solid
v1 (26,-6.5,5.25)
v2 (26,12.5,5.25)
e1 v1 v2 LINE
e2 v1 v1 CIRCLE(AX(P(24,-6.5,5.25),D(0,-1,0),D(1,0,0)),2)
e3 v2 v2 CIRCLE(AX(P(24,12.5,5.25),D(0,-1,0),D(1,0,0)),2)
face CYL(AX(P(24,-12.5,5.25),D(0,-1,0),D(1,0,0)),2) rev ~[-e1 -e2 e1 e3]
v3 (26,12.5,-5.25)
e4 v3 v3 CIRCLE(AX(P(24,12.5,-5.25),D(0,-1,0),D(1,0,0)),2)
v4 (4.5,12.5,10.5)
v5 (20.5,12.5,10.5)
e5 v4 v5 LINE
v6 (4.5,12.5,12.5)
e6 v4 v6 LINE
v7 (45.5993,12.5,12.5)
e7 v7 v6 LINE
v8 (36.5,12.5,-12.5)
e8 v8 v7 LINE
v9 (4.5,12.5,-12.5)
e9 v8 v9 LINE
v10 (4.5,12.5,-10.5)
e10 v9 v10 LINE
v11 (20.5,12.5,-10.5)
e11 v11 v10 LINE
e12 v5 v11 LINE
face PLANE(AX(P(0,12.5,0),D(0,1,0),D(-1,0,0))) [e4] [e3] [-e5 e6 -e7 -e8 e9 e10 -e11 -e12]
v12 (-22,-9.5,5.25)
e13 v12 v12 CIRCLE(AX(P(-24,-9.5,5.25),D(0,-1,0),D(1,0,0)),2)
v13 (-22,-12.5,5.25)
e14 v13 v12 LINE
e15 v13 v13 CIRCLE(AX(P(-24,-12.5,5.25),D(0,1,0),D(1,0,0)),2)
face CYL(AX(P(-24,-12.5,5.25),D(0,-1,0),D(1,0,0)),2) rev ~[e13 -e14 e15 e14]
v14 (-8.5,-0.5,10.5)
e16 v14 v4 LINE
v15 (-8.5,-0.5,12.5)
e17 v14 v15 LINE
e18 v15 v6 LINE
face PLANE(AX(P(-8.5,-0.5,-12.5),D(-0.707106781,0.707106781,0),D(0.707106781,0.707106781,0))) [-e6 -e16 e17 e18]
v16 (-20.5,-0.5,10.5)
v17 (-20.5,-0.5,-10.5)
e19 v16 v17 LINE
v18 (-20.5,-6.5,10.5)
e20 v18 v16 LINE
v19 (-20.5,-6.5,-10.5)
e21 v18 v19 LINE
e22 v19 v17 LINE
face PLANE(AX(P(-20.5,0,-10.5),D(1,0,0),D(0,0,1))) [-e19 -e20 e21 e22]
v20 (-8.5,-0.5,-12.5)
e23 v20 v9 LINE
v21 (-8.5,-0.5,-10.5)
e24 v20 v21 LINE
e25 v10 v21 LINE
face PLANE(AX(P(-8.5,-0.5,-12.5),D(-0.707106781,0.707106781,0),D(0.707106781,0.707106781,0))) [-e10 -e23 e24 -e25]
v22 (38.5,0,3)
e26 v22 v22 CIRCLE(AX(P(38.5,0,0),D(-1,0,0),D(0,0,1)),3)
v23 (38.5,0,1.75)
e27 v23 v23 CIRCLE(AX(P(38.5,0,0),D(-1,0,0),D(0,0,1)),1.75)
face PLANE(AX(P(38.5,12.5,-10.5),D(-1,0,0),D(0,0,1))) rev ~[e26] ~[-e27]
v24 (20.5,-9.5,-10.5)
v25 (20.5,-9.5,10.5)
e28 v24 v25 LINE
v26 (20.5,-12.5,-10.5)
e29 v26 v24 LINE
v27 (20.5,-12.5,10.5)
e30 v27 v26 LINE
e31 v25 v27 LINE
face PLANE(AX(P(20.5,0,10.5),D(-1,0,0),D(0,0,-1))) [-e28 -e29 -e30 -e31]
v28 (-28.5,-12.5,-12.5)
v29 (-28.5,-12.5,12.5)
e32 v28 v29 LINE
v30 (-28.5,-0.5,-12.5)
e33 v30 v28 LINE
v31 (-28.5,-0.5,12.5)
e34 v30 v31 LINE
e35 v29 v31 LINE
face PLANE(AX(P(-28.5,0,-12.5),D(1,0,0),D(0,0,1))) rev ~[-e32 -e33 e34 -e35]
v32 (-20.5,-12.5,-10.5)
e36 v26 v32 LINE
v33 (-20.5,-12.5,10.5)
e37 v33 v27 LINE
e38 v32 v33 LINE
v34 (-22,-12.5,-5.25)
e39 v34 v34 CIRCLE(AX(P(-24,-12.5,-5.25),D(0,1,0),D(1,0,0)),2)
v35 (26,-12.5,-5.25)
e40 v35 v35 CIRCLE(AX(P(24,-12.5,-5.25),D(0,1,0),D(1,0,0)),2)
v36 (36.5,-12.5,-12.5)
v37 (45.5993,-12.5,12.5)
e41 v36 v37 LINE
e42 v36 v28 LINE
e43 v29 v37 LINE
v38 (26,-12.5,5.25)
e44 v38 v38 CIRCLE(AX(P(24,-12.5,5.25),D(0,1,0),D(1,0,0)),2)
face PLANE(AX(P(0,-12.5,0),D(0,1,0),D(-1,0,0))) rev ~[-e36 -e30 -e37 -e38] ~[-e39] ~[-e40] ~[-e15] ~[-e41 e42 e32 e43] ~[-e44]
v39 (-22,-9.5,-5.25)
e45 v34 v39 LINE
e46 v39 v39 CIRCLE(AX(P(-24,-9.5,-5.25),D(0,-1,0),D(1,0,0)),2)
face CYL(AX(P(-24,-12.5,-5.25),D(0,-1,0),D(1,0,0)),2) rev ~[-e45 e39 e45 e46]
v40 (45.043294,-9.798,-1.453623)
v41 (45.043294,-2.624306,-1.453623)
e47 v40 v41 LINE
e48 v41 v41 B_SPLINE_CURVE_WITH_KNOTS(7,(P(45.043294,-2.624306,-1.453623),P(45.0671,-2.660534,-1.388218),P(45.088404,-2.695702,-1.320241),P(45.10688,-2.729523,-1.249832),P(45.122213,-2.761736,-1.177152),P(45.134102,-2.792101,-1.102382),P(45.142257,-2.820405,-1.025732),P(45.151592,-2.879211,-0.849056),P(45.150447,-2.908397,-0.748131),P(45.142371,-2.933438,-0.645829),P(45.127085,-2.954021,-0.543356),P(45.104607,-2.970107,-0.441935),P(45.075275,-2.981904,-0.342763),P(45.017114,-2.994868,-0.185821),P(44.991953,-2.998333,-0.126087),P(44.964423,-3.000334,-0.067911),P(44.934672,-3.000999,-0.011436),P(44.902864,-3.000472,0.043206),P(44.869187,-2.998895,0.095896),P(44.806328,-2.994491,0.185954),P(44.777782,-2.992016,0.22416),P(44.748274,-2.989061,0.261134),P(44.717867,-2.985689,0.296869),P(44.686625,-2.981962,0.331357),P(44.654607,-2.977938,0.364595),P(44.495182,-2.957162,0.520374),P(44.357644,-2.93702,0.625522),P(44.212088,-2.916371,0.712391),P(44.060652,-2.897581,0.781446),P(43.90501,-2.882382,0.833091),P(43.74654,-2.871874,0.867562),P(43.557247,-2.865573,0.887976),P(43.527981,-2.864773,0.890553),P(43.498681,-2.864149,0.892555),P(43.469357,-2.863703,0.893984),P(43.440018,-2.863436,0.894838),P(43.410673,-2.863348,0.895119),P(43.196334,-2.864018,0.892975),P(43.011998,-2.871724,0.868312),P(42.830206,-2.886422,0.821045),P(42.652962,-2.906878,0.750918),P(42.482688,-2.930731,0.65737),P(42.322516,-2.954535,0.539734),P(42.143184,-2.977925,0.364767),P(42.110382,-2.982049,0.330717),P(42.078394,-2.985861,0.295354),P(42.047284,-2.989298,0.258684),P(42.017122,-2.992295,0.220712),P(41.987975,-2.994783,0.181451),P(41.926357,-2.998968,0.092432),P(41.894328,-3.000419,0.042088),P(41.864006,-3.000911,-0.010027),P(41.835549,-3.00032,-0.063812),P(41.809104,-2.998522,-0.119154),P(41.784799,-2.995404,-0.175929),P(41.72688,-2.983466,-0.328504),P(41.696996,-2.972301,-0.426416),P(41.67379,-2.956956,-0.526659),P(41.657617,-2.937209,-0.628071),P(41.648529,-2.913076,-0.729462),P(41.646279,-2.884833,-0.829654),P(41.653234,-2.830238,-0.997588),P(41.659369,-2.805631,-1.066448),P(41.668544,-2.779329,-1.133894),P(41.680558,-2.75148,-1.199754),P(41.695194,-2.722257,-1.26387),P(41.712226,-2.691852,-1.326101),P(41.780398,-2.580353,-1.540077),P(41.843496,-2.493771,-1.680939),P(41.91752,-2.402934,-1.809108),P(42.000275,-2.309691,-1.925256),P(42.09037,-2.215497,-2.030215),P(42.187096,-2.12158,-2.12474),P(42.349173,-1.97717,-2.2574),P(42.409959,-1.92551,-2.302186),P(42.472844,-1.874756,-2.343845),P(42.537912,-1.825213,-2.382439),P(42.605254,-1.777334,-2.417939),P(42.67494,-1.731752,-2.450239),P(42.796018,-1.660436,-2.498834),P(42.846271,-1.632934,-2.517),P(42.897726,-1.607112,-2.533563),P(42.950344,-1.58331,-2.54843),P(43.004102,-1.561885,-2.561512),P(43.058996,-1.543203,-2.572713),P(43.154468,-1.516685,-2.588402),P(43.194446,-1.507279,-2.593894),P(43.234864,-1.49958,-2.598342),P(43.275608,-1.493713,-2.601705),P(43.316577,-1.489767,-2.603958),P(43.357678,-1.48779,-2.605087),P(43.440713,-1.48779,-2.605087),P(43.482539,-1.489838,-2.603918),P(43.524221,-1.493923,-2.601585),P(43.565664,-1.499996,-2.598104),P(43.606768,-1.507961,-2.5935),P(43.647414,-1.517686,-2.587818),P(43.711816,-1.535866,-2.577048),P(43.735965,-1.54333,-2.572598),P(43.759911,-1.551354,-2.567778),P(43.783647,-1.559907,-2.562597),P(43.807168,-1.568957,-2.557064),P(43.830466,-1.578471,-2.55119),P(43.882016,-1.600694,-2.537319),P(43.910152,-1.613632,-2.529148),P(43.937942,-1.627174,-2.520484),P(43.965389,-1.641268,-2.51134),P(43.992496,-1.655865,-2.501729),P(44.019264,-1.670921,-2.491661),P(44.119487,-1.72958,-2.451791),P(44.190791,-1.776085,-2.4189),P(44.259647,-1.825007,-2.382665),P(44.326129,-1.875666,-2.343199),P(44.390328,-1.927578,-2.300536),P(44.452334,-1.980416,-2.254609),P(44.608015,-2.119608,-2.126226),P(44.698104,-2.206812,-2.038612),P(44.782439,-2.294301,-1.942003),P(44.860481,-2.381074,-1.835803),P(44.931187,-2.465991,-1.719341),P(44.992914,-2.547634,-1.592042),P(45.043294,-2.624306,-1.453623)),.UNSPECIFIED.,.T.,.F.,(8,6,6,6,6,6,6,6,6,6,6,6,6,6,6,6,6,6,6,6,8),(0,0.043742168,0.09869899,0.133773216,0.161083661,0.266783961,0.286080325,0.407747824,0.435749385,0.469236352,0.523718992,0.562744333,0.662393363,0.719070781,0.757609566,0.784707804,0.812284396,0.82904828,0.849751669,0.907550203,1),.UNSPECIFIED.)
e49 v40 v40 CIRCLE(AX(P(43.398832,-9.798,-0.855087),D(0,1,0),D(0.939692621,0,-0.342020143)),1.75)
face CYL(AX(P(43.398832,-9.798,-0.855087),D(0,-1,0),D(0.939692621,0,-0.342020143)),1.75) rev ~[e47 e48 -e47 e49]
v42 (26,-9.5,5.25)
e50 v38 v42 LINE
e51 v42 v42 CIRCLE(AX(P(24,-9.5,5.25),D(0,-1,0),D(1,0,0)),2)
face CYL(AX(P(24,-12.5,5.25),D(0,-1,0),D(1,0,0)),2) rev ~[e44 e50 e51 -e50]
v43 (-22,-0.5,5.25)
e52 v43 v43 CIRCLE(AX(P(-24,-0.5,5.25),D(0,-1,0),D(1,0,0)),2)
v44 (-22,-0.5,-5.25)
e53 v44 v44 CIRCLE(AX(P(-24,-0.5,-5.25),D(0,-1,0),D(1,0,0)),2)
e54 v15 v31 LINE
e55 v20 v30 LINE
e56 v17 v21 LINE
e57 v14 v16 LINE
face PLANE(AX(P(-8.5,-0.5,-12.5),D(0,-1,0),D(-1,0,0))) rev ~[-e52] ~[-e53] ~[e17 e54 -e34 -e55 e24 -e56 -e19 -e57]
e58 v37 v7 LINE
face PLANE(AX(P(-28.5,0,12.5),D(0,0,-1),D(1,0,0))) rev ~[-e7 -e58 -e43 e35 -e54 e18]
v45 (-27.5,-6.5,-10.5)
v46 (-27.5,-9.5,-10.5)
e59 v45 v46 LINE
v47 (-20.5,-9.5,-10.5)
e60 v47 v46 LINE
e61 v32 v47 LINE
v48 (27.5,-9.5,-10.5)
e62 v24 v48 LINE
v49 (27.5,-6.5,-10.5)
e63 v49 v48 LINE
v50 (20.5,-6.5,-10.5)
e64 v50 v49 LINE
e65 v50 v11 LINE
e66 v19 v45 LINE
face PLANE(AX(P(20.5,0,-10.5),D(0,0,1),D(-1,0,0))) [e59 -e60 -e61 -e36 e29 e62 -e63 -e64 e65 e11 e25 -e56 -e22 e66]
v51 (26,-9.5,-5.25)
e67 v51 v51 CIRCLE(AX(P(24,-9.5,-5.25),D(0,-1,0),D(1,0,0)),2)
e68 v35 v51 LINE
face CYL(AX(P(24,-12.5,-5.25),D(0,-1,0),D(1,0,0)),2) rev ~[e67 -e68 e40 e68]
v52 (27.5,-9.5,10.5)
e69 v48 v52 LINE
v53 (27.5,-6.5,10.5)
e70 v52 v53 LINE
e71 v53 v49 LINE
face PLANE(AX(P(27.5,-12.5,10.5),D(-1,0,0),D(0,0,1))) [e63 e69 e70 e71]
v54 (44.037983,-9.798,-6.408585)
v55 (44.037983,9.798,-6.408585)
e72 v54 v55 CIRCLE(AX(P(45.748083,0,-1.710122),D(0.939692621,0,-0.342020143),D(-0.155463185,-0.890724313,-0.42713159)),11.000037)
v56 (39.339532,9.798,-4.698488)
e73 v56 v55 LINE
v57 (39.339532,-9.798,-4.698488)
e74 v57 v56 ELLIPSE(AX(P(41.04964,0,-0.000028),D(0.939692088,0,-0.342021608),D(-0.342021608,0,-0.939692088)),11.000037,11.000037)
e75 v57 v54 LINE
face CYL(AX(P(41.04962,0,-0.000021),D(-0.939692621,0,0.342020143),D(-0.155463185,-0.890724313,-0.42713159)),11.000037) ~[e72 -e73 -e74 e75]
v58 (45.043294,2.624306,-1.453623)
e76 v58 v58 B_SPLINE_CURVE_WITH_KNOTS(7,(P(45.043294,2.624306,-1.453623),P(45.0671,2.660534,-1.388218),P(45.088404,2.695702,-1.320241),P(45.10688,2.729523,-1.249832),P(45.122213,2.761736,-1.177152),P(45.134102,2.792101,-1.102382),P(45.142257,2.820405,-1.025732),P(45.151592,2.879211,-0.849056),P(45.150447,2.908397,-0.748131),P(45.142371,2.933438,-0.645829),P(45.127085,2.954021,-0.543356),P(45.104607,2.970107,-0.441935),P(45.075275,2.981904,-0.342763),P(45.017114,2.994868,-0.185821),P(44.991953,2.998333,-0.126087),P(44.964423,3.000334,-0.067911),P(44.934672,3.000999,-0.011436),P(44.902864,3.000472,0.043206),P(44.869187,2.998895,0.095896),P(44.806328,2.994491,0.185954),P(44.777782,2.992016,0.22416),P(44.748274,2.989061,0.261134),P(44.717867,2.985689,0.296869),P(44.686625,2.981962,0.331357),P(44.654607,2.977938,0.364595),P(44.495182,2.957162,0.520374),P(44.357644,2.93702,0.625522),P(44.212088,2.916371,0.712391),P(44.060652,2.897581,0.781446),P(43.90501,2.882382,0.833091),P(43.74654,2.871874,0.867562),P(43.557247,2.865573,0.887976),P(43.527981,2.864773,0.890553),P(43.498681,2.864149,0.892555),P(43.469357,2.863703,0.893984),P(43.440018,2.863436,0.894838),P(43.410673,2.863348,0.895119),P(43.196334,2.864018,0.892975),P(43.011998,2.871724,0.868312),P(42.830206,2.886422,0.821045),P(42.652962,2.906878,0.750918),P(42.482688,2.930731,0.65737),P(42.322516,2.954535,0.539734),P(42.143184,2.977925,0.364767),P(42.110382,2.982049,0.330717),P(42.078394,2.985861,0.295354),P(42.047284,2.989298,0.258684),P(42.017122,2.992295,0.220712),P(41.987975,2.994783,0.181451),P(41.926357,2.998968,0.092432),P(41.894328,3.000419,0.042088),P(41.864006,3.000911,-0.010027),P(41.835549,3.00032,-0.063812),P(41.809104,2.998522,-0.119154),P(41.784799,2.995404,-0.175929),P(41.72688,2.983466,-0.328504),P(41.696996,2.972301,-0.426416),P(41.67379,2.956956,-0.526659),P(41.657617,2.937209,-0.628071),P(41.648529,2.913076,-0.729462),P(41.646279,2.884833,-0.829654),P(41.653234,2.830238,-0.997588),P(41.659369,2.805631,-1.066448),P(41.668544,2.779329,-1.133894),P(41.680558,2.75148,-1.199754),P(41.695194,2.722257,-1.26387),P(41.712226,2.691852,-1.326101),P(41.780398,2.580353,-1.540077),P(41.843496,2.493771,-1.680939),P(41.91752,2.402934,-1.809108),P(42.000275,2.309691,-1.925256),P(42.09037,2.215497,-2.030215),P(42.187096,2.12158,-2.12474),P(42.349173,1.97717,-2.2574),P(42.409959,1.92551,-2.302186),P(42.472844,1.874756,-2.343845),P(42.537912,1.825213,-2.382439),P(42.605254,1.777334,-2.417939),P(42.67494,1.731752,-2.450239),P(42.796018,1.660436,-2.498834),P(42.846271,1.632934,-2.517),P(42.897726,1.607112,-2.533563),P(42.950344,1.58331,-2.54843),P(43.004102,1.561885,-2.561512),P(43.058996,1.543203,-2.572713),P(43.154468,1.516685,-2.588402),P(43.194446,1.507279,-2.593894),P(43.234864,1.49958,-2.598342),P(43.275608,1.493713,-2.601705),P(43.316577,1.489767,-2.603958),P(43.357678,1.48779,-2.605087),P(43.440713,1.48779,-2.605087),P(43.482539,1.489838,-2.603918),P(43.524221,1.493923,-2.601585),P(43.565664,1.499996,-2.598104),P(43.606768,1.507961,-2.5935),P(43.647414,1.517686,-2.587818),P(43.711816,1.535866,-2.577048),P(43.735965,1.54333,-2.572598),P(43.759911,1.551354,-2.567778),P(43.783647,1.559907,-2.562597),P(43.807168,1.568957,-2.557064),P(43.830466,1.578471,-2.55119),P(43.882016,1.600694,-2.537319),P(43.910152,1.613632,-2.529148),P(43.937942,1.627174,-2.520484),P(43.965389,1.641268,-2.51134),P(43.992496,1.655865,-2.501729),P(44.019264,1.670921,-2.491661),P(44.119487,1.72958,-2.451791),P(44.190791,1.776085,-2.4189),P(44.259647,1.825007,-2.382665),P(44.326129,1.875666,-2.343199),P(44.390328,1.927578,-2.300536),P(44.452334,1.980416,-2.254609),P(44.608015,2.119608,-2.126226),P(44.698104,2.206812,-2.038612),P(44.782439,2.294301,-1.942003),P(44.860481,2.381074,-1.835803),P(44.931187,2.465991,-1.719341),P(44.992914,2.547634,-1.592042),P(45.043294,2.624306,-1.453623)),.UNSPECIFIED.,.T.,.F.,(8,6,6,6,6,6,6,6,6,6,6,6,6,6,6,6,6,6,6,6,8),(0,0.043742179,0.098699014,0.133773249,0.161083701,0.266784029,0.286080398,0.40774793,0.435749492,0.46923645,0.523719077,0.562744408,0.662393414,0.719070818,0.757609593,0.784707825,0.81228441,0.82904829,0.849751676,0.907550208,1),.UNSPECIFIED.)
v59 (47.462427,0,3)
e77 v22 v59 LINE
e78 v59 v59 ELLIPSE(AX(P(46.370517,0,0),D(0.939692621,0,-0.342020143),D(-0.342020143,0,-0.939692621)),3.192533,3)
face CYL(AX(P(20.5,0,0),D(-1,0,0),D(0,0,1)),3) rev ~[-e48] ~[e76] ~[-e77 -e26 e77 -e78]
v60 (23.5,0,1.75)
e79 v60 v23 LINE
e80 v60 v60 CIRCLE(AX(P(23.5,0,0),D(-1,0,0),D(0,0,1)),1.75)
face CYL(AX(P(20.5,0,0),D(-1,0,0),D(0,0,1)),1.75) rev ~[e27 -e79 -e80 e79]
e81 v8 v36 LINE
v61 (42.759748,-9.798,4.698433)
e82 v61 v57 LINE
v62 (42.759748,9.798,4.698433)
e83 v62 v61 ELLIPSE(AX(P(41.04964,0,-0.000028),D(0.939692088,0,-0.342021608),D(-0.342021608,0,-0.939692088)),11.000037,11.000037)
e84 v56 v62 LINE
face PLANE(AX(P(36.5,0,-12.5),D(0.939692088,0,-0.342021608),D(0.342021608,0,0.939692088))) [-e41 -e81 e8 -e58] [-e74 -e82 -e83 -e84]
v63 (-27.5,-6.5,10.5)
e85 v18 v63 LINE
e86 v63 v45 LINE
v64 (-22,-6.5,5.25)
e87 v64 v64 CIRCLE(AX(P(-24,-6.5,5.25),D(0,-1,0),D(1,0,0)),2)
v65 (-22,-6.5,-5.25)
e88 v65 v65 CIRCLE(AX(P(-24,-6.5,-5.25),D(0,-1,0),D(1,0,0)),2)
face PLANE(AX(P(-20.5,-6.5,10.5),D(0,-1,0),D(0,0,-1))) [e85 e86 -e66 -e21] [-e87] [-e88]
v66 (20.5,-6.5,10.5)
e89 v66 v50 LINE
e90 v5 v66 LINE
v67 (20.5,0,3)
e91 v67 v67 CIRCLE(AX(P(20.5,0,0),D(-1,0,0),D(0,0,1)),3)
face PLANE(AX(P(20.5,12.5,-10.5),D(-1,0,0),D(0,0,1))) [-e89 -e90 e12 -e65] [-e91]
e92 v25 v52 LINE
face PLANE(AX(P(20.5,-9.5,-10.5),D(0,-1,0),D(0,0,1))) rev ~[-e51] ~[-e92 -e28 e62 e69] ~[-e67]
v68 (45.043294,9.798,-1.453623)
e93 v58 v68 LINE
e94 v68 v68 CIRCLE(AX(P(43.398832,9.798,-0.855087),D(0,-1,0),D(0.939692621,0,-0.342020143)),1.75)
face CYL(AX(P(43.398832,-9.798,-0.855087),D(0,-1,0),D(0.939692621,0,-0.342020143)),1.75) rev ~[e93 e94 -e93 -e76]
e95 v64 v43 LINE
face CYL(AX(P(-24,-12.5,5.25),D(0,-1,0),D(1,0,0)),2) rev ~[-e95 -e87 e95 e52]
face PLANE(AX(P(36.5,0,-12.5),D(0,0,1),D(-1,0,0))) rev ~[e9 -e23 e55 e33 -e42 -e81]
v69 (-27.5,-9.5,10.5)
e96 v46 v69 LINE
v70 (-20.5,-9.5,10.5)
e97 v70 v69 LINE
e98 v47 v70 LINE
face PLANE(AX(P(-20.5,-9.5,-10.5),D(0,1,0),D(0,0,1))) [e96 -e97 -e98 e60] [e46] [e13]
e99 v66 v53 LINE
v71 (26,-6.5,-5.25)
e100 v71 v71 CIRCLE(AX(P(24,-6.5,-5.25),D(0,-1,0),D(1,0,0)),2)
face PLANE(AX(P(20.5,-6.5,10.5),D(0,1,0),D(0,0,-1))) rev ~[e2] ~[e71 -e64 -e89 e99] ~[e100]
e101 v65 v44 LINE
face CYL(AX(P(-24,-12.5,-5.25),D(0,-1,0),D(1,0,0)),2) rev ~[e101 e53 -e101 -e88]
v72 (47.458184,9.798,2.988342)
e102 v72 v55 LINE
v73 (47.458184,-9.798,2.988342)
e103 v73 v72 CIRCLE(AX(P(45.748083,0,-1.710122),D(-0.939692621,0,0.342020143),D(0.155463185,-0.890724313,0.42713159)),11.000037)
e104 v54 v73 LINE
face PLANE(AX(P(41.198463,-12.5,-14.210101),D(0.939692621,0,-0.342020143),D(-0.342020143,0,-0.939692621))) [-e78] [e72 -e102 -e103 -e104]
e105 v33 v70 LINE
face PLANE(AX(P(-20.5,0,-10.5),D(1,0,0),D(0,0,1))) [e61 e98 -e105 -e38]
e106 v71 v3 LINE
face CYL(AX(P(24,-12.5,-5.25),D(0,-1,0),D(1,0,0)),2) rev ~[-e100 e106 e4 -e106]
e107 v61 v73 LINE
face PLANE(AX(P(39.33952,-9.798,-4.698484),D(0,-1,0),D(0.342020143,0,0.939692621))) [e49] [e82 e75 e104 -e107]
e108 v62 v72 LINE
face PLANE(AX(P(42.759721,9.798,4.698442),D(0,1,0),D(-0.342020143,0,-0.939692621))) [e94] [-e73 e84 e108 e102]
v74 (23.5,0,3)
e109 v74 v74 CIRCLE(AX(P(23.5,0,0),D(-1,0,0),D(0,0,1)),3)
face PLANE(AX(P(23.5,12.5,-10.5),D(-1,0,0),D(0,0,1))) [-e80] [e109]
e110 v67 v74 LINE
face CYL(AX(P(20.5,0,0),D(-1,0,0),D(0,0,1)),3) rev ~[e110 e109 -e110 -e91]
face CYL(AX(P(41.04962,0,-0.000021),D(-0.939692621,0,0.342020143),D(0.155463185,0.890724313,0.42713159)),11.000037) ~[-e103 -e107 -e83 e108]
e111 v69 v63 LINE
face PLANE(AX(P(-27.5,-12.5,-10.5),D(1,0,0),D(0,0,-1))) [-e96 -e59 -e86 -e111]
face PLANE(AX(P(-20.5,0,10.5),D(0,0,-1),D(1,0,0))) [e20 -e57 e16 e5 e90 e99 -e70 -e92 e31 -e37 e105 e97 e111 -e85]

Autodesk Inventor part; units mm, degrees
ref_plane "YZ Plane" through (0, 0, 0) normal (1, 0, 0) x (0, 1, 0)
ref_plane "XZ Plane" through (0, 0, 0) normal (0, 1, 0) x (-1, 0, 0)
ref_plane "XY Plane" through (0, 0, 0) normal (0, 0, 1) x (1, 0, 0)
sketch "Esquisse1" plane through (0, 0, 0) normal (0, 1, 0) x (-1, 0, 0)
  line L0 (20.5, 10.5) -> (-20.5, 10.5)
  line L1 (-20.5, 10.5) -> (-20.5, -10.5)
  line L2 (-20.5, -10.5) -> (20.5, -10.5)
  line L3 (20.5, -10.5) -> (20.5, 10.5)
  line L4 (28.5, 12.5) -> (-36.5, 12.5)
  line L5 (-36.5, 12.5) -> (-36.5, -12.5)
  line L6 (-36.5, -12.5) -> (28.5, -12.5)
  line L7 (28.5, -12.5) -> (28.5, 12.5)
  line L8 (-36.5, -12.5) -> (-45.5993, 12.5)
  line L9 (-45.5993, 12.5) -> (-36.5, 12.5)
  point P0 (0, 0)
  dimension "d0" = 20
  dimension "d1" = 41
  dimension "d2" = 21
  dimension "d3" = 10.5
  dimension "d4" = 20.5
  dimension "d5" = 8
  dimension "d6" = 2
  dimension "d7" = 2
  dimension "d8" = 16
extrude "Extrusion1" add sketch "Esquisse1" along normal mid plane 25
sketch "Esquisse2" plane through (36.5, -12.5, -12.5) normal (0.9397, 0, -0.342) x (-0.342, 0, -0.9397)
  line L0 (-26.6044, 25) -> (0, 0)
  line L1 (0, 0) -> (0, 25)
  line L2 (0, 25) -> (-26.6044, 0)
  arc A0 (-8.3022, 22.298) -> (-18.3022, 22.298) centre (-13.3022, 12.5) ccw
  line L3 (-18.3022, 22.298) -> (-8.3022, 22.298)
  line L4 (-8.3022, 22.298) -> (-8.3022, 2.702)
  line L5 (-8.3022, 2.702) -> (-18.3022, 2.702)
  line L6 (-18.3022, 2.702) -> (-18.3022, 22.298)
  arc A1 (-8.3022, 2.702) -> (-8.3022, 22.298) centre (-13.3022, 12.5) ccw
  arc A2 (-18.3022, 2.702) -> (-8.3022, 2.702) centre (-13.3022, 12.5) ccw
  arc A3 (-18.3022, 22.298) -> (-18.3022, 2.702) centre (-13.3022, 12.5) ccw
  point P0 (0.7376, 12.5)
  dimension "d11" = 22
  dimension "d13" = 10
extrude "Extrusion2" add sketch "Esquisse2" along normal blind 5 contours A3 L6 L0 | L0 L6 L2 A3 | L6 L3 L4 L2 L0 | L0 L2 L6 | L2 L6 A3 | L2 L4 L0 | L0 L4 L5 L6 L2 | A1 L2 L4 | L4 L2 A1 L0 | L0 A1 L4
sketch "Esquisse3" plane through (39.3395, -9.798, -4.6985) normal (0, -1, 0) x (0.9397, 0, -0.342)
  line L0 (5, 10) -> (0, 0)
  line L1 (0, 10) -> (5, 0)
  circle A0 centre (2.5, 5) radius 1.75
  point P0 (-38.574, -9.0398)
  dimension "d16" = 3.5
extrude "Extrusion3" cut sketch "Esquisse3" against normal through all
sketch "Esquisse4" plane through (20.5, -12.5, 10.5) normal (-1, 0, 0) x (0, 0, 1)
  line L0 (-21, 3) -> (0, 3)
  line L1 (0, 3) -> (0, 6)
  line L2 (0, 6) -> (-21, 6)
  line L3 (-21, 6) -> (-21, 3)
  line L4 (-21, 0) -> (-21, 25) projected
  line L5 (0, 0) -> (0, 25) projected
  line L6 (0, 0) -> (-21, 0) projected
  point P0 (-10.5, 12.5)
  dimension "d19" = 3
  dimension "d20" = 3
extrude "Extrusion4" cut sketch "Esquisse4" against normal blind 7 contours L3 L2 L1 L0
sketch "Esquisse5" plane through (-20.5, -12.5, -10.5) normal (1, 0, 0) x (0, 0, -1)
  line L0 (-21, 6) -> (0, 6)
  line L1 (0, 6) -> (0, 3)
  line L2 (0, 3) -> (-21, 3)
  line L3 (-21, 3) -> (-21, 6)
  line L4 (-21, 25) -> (-21, 0) projected
  line L5 (0, 0) -> (0, 25) projected
  line L6 (0, 0) -> (-21, 0) projected
  point P0 (-10.5, 12.5)
  dimension "d23" = 3
  dimension "d24" = 3
extrude "Extrusion5" cut sketch "Esquisse5" against normal blind 7 contours L0 L1 L2 L3
sketch "Esquisse6" plane through (20.5, 12.5, -10.5) normal (-1, 0, 0) x (0, 0, 1)
  line L0 (21, -25) -> (0, 0)
  line L1 (0, -25) -> (21, 0)
  circle A0 centre (10.5, -12.5) radius 3
  dimension "d27" = 6
extrude "Extrusion6" cut sketch "Esquisse6" against normal through all
sketch "Esquisse7" plane through (20.5, 12.5, -10.5) normal (-1, 0, 0) x (0, 0, 1)
  circle A0 centre (10.5, -12.5) radius 3
  circle A1 centre (10.5, -12.5) radius 1.75
  circle A2 centre (10.5, -12.5) radius 3 projected
  dimension "d30" = 0
  dimension "d31" = 3.5
extrude "Extrusion7" add sketch "Esquisse7" against normal blind 18
sketch "Esquisse8" plane through (20.5, 12.5, -10.5) normal (-1, 0, 0) x (0, 0, 1)
  circle A0 centre (10.5, -12.5) radius 3
  dimension "d34" = 6
extrude "Extrusion8" cut sketch "Esquisse8" against normal blind 3
sketch "Esquisse10" plane through (0, -12.5, 0) normal (0, -1, 0) x (1, 0, 0)
  line L0 (-20.5, -10.5) -> (-27.5, -10.5)
  line L1 (-27.5, -10.5) -> (-27.5, 10.5)
  line L2 (-27.5, 10.5) -> (-20.5, 10.5)
  line L3 (-20.5, 10.5) -> (-20.5, -10.5)
  line L4 (20.5, -10.5) -> (27.5, -10.5)
  line L5 (27.5, -10.5) -> (27.5, 10.5)
  line L6 (27.5, 10.5) -> (20.5, 10.5)
  line L7 (20.5, 10.5) -> (20.5, -10.5)
  line L8 (-27.5, -10.5) -> (-27.5, 10.5) projected
  line L9 (27.5, 10.5) -> (27.5, -10.5) projected
  line L10 (-27.5, -10.5) -> (-20.5, 0)
  line L11 (-20.5, 0) -> (-27.5, 10.5)
  line L12 (-27.5, 0) -> (-20.5, 10.5)
  line L13 (-20.5, -10.5) -> (-27.5, 0)
  line L14 (20.5, -10.5) -> (27.5, 0)
  line L15 (20.5, 0) -> (27.5, -10.5)
  line L16 (27.5, 10.5) -> (20.5, 0)
  line L17 (20.5, 10.5) -> (27.5, 0)
  circle A0 centre (-24, -5.25) radius 2
  circle A1 centre (24, -5.25) radius 2
  circle A2 centre (24, 5.25) radius 2
  circle A3 centre (-24, 5.25) radius 2
  point P0 (0, 0)
  dimension "d37" = 4
  dimension "d38" = 4
  dimension "d39" = 4
  dimension "d40" = 4
extrude "Extrusion9" cut sketch "Esquisse10" against normal through all contours A0 L10 L13 | L13 L10 A0 | A0 L13 L10 | L10 L13 A0 | A3 L12 L11 | L11 L12 A3 | A3 L11 L12 | L12 L11 A3 | A1 L15 L14 | L14 L15 A1 | L15 L14 A1 | A1 L14 L15 | A2 L17 L16 | L16 L17 A2 | L17 L16 A2 | A2 L16 L17
sketch "Esquisse11" plane through (36.5, 12.5, -12.5) normal (0, 0, -1) x (-1, 0, 0)
  line L0 (65, 0) -> (45, 0)
  line L1 (45, 0) -> (45, -13)
  line L2 (45, -13) -> (65, -13)
  line L3 (65, -13) -> (65, 0)
  line L4 (65, -25) -> (0, -25) projected
  line L5 (45, -13) -> (32, 0)
  line L6 (0, 0) -> (65, 0) projected
  line L7 (45, 0) -> (32, 0)
  point P0 (36.5, -12.5)
  dimension "d43" = 20
  dimension "d44" = 12
  dimension "d45" = 45
extrude "Extrusion10" cut sketch "Esquisse11" against normal through all
equation "\"d3\" = 0.5 * d2"
equation "\"d4\" = 0.5 * d1"
equation "\"d38\" = d37"
equation "\"d39\" = d37"
equation "\"d40\" = d37"
properties part number "forearm"
